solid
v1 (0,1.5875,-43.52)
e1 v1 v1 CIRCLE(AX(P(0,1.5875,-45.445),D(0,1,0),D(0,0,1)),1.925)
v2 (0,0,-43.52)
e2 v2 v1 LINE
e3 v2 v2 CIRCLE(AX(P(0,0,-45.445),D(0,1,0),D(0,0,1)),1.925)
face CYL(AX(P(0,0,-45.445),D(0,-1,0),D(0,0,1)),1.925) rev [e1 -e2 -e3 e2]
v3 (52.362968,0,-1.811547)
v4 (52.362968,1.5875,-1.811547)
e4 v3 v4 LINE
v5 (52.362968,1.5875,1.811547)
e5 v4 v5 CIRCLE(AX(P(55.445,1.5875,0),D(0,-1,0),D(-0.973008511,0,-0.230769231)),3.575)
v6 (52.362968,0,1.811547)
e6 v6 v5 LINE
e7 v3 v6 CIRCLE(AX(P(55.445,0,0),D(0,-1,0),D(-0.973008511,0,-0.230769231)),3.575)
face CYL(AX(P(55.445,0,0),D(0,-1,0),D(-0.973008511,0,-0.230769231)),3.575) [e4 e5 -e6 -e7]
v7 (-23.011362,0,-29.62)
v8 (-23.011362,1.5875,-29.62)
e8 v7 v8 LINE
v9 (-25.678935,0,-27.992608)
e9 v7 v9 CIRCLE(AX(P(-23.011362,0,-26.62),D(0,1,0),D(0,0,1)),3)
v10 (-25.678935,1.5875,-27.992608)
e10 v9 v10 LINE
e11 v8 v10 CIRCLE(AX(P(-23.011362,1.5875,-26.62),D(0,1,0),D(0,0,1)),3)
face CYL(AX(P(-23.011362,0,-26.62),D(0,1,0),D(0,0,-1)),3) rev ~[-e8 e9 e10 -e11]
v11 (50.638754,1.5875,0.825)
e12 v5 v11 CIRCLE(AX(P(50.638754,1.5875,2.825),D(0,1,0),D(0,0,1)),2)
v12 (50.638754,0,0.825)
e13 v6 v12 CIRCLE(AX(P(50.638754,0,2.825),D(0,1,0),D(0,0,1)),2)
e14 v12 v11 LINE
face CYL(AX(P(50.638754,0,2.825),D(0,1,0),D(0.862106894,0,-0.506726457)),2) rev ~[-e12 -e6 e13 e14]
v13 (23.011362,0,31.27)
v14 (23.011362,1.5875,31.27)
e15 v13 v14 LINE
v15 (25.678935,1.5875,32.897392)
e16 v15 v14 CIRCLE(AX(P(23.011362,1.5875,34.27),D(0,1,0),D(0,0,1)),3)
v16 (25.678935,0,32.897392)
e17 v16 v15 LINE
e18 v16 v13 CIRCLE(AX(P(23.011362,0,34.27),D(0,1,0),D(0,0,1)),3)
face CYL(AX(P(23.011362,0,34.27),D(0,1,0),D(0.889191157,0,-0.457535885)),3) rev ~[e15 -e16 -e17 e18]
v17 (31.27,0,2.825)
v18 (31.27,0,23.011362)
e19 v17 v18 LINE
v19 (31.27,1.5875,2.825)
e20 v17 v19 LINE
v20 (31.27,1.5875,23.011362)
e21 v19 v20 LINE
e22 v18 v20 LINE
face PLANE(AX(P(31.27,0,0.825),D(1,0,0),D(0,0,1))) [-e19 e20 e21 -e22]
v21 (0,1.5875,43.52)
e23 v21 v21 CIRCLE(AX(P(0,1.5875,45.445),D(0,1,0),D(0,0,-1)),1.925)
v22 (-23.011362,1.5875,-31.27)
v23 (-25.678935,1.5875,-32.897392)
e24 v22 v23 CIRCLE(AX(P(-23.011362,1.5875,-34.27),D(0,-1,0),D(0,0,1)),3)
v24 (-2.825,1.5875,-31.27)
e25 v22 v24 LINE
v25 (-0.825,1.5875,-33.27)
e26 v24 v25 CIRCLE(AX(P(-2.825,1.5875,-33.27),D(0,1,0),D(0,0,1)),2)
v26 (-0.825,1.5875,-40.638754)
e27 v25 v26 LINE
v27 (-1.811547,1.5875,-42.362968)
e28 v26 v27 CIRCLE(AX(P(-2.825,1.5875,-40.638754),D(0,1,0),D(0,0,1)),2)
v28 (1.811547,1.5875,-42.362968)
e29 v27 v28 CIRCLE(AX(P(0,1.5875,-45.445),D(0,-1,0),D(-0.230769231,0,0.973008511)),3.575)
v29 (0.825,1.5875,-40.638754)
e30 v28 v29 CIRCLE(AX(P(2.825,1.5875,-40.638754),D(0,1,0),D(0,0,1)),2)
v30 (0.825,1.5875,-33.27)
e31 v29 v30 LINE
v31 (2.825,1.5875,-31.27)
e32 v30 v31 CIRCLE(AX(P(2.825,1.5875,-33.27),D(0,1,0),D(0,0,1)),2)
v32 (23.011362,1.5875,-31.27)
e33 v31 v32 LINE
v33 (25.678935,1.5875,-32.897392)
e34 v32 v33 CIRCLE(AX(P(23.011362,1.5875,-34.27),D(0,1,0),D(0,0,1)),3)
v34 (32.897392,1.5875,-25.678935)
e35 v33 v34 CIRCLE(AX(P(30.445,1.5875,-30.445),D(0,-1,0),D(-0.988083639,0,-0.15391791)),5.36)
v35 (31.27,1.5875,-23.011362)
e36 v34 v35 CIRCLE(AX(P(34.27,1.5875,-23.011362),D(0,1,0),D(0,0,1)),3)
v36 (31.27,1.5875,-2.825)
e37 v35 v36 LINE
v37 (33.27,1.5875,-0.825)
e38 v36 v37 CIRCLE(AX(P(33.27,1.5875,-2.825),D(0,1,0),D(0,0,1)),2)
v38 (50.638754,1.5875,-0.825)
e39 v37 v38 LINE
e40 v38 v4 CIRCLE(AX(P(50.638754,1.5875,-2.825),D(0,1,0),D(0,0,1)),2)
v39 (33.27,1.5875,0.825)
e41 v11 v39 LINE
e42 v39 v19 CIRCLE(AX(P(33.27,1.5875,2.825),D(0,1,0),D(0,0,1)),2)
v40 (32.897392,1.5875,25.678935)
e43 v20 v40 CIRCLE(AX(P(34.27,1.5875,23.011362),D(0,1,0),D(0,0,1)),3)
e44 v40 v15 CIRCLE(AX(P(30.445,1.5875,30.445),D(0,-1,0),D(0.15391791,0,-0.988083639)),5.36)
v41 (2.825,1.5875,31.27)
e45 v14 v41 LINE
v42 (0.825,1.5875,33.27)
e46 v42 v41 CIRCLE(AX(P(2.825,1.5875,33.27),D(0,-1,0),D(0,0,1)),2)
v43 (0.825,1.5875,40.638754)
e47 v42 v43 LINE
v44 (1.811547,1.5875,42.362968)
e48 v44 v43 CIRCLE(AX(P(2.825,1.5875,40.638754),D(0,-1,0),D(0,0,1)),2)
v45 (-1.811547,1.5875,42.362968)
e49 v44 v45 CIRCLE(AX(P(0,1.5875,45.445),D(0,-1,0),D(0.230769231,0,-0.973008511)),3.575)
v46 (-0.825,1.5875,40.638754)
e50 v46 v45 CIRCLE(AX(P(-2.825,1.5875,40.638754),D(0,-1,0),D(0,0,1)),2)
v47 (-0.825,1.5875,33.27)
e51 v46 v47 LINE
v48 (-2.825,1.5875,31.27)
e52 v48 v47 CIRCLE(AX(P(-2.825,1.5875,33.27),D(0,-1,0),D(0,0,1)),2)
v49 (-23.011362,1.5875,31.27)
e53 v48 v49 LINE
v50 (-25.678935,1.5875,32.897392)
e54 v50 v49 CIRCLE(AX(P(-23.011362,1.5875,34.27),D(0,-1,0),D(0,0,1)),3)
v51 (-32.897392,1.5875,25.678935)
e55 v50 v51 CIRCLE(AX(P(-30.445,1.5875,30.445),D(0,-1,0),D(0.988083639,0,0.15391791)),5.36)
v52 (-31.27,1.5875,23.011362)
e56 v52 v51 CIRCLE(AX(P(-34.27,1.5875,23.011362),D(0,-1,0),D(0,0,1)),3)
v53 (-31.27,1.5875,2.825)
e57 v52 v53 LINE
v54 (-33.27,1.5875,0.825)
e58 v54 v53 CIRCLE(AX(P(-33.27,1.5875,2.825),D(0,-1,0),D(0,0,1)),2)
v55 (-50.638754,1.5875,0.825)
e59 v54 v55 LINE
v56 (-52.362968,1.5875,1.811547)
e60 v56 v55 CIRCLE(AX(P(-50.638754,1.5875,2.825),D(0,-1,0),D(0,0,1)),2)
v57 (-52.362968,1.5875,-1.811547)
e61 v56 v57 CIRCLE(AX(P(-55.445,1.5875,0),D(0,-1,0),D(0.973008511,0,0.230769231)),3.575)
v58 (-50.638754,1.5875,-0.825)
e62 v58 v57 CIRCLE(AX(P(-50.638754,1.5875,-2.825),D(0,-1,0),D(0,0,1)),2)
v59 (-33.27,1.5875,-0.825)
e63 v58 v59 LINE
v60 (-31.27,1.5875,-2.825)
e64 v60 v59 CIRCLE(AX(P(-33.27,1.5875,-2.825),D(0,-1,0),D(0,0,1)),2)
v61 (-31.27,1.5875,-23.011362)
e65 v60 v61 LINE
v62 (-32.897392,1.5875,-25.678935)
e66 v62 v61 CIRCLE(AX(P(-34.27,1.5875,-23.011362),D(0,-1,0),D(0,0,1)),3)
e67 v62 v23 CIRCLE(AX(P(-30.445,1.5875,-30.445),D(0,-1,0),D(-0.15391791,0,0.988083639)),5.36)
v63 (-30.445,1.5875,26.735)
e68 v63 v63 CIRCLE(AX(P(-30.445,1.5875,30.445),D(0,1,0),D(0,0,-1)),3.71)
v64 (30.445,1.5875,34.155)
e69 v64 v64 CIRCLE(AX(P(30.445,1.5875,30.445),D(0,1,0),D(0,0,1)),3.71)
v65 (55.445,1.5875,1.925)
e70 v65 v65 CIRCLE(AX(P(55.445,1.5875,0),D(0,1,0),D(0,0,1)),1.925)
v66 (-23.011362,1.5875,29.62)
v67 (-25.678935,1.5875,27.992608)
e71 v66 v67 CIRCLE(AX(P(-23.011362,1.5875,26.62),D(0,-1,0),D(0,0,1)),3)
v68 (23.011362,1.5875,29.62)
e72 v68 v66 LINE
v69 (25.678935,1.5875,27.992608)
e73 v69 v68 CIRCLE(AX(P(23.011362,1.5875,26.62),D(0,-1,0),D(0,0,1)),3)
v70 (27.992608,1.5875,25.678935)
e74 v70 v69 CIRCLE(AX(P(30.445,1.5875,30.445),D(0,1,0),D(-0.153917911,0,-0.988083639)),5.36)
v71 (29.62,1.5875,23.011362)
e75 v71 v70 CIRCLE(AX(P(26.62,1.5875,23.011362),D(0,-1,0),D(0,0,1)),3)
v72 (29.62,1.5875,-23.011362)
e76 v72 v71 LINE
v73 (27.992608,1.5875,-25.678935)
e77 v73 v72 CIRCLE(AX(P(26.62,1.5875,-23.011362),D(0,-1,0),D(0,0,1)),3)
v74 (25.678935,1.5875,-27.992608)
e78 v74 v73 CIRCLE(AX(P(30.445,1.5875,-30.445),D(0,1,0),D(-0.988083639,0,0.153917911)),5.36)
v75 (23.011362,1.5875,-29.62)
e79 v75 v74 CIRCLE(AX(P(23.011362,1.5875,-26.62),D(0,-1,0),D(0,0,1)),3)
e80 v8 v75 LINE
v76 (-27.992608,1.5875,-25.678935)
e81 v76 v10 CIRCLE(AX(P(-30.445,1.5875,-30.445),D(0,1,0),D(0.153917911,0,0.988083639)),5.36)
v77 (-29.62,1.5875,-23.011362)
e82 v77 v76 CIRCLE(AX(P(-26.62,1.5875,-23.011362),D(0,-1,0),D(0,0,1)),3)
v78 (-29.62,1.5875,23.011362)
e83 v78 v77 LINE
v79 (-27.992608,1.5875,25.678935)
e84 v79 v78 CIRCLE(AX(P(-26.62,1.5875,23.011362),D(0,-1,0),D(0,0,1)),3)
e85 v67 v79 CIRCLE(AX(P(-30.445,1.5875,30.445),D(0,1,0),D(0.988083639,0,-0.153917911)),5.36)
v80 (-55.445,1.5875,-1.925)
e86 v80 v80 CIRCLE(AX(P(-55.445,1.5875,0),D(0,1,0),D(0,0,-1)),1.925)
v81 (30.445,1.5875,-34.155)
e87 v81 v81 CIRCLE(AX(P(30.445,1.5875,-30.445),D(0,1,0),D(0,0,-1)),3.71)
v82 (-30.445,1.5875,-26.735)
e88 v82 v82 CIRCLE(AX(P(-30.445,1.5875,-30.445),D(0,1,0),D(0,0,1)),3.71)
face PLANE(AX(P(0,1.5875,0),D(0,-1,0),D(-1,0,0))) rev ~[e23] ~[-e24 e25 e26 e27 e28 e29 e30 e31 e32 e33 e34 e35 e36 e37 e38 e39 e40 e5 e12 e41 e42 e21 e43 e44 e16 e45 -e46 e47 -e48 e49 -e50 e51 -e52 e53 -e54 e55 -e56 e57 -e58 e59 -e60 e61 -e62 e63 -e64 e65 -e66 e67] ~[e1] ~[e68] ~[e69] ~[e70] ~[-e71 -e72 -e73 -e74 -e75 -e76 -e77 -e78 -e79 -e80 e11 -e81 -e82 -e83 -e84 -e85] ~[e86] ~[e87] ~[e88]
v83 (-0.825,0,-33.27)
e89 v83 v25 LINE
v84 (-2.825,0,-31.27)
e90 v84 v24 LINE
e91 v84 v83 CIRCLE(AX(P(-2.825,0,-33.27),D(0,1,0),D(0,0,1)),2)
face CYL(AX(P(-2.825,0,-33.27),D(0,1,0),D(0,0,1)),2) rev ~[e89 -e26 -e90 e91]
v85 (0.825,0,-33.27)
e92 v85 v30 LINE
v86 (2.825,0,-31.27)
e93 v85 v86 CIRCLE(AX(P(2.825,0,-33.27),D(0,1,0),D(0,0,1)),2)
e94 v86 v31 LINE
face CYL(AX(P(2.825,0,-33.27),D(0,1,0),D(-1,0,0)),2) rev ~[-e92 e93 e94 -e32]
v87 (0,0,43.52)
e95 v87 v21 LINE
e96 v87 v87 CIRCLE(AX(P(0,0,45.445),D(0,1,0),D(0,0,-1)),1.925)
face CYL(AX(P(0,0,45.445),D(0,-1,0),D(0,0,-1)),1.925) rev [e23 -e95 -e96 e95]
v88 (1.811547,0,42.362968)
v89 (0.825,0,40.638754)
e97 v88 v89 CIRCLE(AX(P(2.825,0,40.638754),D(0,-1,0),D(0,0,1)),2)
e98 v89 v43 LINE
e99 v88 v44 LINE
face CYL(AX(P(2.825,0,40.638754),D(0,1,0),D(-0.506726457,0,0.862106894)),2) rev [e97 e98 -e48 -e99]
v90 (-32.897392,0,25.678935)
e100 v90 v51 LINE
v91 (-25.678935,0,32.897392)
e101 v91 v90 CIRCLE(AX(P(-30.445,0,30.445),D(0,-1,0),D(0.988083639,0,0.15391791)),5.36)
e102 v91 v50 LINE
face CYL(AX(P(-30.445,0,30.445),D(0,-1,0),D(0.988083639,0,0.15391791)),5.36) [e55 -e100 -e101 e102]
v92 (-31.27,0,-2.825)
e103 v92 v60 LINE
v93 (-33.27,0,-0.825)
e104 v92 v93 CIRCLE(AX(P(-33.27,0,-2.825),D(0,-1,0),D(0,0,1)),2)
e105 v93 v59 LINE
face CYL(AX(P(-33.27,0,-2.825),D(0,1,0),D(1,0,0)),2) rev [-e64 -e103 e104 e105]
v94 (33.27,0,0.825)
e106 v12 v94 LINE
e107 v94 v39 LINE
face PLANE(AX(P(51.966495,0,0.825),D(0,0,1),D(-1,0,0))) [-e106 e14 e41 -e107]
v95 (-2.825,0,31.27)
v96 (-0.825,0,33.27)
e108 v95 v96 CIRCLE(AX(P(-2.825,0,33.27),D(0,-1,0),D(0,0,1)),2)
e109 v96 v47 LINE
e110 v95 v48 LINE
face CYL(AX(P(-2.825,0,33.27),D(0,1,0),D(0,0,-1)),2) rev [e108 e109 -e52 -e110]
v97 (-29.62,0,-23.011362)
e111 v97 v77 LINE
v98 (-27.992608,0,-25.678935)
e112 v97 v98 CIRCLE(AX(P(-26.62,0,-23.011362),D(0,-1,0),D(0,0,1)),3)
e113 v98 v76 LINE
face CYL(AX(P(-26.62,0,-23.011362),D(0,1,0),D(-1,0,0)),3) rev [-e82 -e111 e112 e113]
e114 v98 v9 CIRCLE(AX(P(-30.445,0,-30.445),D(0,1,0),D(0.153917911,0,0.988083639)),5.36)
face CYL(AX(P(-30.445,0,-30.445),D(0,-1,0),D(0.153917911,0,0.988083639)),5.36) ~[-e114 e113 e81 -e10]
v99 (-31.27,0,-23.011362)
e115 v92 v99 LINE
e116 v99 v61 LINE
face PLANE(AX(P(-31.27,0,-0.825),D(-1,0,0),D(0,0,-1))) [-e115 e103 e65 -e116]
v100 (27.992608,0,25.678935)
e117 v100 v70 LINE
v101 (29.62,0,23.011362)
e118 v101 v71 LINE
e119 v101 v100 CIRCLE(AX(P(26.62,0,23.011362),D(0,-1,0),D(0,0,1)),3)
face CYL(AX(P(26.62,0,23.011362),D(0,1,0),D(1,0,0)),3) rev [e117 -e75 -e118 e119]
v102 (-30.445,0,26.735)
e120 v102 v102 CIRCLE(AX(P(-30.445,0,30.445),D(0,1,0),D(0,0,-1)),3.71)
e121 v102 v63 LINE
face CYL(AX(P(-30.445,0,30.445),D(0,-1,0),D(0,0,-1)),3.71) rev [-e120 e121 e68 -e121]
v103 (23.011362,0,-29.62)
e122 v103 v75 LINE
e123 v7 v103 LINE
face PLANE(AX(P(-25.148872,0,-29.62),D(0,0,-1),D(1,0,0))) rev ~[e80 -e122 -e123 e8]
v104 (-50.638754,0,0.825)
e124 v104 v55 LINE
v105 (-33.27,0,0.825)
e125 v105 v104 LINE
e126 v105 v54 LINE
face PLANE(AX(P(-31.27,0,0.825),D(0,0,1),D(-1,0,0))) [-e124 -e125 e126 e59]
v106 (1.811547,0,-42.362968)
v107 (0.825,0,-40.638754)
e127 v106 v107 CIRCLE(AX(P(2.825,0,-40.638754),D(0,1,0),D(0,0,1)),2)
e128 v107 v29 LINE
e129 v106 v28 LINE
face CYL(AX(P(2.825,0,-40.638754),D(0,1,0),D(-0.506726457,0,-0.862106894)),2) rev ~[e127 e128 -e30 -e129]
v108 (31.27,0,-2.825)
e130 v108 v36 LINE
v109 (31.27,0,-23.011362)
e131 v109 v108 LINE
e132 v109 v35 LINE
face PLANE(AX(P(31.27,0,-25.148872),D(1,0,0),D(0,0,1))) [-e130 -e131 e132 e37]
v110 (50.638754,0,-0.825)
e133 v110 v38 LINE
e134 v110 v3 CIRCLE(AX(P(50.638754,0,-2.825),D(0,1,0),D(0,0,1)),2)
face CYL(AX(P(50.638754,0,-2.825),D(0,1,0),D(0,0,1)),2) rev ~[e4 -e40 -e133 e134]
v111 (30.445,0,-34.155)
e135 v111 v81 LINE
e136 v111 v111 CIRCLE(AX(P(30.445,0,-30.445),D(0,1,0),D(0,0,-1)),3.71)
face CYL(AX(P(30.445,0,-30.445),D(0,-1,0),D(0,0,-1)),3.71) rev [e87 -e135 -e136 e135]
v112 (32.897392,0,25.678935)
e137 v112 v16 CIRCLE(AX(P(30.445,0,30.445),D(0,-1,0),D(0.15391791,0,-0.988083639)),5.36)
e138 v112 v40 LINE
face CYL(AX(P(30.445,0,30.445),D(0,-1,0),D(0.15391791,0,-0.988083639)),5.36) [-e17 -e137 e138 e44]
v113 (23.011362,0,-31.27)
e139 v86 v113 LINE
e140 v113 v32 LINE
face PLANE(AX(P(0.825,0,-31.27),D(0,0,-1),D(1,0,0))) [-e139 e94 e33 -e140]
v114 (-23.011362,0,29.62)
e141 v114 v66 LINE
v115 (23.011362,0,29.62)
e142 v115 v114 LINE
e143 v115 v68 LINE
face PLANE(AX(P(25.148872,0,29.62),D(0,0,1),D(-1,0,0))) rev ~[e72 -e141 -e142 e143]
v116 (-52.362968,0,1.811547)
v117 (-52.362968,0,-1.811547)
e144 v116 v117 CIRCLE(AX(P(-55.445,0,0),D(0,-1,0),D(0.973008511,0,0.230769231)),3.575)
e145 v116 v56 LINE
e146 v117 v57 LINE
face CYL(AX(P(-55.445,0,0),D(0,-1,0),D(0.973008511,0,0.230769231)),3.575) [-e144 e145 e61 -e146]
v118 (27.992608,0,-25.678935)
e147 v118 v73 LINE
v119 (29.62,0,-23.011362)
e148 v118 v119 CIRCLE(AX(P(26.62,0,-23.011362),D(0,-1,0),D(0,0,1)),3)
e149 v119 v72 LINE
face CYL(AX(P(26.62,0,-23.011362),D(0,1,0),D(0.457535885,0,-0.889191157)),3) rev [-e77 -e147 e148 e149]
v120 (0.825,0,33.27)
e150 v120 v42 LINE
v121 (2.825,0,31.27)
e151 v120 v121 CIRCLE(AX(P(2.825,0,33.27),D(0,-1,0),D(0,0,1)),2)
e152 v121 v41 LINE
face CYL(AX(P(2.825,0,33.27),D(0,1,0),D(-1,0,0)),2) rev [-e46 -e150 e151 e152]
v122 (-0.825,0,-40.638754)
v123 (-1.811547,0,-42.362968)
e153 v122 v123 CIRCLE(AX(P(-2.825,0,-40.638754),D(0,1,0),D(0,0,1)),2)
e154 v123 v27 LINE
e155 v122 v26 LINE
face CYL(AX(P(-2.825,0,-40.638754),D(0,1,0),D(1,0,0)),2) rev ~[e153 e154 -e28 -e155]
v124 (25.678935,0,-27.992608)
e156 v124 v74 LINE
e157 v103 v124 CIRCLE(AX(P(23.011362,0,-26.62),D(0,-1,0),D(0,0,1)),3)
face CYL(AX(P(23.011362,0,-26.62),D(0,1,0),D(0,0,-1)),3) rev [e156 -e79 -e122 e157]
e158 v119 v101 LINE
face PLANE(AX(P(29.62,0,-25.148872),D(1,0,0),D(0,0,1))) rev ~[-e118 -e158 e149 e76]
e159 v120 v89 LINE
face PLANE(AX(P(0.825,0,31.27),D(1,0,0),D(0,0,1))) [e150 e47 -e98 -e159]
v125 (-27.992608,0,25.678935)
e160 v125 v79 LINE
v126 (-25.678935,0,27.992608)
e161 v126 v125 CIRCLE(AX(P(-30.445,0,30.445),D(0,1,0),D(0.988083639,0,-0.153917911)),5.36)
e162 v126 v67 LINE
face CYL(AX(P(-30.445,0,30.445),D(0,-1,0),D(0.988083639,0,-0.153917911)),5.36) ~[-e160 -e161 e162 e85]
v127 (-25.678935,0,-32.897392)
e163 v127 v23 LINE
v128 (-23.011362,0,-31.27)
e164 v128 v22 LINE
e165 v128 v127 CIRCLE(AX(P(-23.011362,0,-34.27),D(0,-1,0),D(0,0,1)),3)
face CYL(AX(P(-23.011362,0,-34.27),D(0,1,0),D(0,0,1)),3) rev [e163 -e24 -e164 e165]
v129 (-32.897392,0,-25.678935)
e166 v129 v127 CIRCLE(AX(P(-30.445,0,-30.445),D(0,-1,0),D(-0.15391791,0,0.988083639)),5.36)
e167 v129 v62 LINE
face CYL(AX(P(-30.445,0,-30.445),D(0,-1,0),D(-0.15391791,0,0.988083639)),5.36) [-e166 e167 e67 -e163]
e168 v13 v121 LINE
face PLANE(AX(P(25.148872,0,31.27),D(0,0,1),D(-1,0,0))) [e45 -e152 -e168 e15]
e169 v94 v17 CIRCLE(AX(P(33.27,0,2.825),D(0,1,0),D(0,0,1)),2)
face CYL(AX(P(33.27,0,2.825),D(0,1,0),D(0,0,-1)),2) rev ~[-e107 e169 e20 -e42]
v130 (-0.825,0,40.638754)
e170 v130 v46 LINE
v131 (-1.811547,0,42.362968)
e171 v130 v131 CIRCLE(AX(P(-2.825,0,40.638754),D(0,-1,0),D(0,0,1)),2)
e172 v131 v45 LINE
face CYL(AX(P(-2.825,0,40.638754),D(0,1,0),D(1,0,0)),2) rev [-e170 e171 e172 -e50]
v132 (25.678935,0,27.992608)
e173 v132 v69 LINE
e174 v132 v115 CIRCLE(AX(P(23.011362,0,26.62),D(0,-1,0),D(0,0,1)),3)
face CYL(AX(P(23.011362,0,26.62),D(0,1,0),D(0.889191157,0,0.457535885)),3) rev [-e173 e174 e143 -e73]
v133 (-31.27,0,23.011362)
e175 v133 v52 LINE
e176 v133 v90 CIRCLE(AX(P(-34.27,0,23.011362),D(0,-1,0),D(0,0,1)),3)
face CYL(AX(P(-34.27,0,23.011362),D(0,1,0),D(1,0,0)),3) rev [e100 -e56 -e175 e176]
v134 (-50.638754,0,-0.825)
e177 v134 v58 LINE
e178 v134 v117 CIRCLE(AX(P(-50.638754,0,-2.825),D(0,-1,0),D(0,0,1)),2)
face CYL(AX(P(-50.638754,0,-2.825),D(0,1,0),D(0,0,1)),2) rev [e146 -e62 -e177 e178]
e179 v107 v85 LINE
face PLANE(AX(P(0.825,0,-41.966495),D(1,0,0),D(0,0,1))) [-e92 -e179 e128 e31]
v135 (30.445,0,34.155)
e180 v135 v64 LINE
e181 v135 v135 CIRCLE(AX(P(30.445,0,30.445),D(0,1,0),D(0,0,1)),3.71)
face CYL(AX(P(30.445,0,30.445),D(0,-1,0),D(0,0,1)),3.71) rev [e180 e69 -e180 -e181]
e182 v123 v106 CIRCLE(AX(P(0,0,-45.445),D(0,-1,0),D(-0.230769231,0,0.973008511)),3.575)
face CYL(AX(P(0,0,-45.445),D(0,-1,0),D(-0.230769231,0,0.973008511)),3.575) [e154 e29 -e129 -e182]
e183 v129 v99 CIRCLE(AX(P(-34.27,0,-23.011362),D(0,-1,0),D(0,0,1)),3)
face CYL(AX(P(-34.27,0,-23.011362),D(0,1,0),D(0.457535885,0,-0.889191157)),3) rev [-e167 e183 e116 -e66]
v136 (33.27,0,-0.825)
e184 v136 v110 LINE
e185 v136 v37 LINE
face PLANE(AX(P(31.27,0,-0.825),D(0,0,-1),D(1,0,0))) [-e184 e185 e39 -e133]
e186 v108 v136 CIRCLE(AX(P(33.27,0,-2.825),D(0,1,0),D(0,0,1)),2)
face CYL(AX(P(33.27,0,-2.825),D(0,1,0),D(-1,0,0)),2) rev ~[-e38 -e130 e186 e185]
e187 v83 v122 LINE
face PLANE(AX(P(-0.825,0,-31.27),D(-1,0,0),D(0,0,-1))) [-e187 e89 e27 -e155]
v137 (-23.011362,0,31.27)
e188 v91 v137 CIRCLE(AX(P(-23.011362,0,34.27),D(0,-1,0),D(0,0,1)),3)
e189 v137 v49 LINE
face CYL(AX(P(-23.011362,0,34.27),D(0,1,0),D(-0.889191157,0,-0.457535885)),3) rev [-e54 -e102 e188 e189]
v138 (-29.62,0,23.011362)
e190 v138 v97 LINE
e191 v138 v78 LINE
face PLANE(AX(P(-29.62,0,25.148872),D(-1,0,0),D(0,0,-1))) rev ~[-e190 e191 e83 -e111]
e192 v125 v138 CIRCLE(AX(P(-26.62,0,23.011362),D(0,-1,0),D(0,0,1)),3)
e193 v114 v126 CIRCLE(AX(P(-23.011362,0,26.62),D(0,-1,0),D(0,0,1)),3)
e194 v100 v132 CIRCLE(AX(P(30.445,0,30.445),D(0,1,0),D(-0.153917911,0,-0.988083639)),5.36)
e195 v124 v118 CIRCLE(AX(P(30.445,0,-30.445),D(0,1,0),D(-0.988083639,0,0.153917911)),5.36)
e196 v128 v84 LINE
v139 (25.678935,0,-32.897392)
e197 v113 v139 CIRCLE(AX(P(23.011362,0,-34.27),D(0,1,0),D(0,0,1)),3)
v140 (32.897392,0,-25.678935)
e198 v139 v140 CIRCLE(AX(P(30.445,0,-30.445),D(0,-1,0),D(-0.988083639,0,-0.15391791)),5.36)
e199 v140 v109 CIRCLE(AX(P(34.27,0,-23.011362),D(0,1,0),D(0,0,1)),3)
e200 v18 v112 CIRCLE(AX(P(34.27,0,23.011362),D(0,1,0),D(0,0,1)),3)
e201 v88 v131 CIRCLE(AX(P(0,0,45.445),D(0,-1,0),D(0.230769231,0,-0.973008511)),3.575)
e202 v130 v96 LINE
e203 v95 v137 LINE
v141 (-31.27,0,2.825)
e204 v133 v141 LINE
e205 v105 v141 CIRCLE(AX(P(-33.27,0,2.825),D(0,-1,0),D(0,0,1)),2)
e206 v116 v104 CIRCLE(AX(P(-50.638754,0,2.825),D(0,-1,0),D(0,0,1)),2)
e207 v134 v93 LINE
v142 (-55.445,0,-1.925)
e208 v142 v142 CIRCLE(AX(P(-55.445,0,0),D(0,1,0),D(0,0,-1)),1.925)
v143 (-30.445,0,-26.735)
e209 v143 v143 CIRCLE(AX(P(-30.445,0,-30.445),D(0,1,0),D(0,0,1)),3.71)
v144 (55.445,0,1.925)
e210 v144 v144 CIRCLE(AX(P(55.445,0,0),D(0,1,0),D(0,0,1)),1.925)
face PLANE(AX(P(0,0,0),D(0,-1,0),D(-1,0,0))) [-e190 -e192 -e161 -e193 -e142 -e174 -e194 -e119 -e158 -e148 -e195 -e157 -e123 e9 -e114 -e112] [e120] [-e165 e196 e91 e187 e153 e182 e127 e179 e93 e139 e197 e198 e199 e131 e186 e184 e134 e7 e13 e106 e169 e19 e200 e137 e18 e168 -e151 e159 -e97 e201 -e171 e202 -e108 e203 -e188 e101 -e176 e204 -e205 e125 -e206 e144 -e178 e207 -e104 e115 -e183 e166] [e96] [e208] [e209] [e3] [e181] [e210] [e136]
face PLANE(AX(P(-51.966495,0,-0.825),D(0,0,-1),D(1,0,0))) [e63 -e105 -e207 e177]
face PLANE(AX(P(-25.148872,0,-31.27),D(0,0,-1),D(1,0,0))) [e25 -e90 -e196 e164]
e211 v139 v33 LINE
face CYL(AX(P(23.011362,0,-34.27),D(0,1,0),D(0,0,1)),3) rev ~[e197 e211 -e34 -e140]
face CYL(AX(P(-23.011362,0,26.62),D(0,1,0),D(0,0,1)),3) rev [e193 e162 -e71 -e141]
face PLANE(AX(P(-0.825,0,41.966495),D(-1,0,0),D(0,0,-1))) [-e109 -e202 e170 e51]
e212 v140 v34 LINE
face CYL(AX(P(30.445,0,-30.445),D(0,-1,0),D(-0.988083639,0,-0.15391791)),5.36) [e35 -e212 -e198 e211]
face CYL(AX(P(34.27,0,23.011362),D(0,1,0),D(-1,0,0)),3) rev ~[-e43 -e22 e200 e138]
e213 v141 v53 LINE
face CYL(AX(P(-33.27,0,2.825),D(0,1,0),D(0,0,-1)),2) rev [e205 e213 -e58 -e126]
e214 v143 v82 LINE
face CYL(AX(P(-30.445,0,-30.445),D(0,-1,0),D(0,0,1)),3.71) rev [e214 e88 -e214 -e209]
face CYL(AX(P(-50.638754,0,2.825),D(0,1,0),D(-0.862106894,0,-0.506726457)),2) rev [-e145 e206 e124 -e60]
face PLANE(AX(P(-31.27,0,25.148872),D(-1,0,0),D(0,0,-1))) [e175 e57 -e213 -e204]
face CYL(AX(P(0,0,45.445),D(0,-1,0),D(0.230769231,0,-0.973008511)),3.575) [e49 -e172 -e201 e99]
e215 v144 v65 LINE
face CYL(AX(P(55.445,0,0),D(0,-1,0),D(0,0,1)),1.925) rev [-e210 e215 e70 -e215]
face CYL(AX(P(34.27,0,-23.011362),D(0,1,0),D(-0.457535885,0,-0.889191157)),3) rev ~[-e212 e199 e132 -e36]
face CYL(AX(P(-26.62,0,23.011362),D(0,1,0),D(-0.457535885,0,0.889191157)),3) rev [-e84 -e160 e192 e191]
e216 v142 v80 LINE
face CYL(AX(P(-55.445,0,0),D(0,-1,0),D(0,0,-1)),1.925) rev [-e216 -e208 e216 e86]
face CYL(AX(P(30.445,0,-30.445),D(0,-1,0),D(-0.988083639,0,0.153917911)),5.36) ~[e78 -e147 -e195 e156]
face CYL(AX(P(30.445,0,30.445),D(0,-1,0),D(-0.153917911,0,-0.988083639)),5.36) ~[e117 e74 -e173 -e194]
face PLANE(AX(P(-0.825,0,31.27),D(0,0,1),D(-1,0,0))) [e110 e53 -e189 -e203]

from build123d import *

# Parameters (mm, degrees)
SKETCH1_R           = 3.71
SKETCH1_R_2         = 1.925
BOSS_EXTRUDE1_DEPTH = 1.5875
FILLET1_R           = 3
FILLET2_R           = 2
FILLET3_R           = 2


with BuildPart() as part:
    # Sketch1 → Boss-Extrude1 (new body)
    with BuildSketch(Plane(origin=(0, 0, 0), x_dir=(1, 0, 0), z_dir=(0, 1, 0))):
        with BuildLine():
            Line((-25.148871697, 31.27), (-0.825, 31.27))
            Line((-0.825, 31.27), (-0.825, 41.966494574))
            ThreePointArc((-0.825, 41.966494574), (0, 49.02), (0.825, 41.966494574))
            Line((0.825, 41.966494574), (0.825, 31.27))
            Line((0.825, 31.27), (25.148871697, 31.27))
            ThreePointArc((25.148871697, 31.27), (34.235092347, 34.235092347), (31.27, 25.148871697))
            Line((31.27, 25.148871697), (31.27, 0.825))
            Line((31.27, 0.825), (51.966494574, 0.825))
            ThreePointArc((51.966494574, 0.825), (59.02, 0), (51.966494574, -0.825))
            Line((51.966494574, -0.825), (31.27, -0.825))
            Line((31.27, -0.825), (31.27, -25.148871697))
            ThreePointArc((31.27, -25.148871697), (34.235092347, -34.235092347), (25.148871697, -31.27))
            Line((25.148871697, -31.27), (0.825, -31.27))
            Line((0.825, -31.27), (0.825, -41.966494574))
            ThreePointArc((0.825, -41.966494574), (0, -49.02), (-0.825, -41.966494574))
            Line((-0.825, -41.966494574), (-0.825, -31.27))
            Line((-0.825, -31.27), (-25.148871697, -31.27))
            ThreePointArc((-25.148871697, -31.27), (-34.235092347, -34.235092347), (-31.27, -25.148871697))
            Line((-31.27, -25.148871697), (-31.27, -0.825))
            Line((-31.27, -0.825), (-51.966494574, -0.825))
            ThreePointArc((-51.966494574, -0.825), (-59.02, 0), (-51.966494574, 0.825))
            Line((-51.966494574, 0.825), (-31.27, 0.825))
            Line((-31.27, 0.825), (-31.27, 25.148871697))
            ThreePointArc((-31.27, 25.148871697), (-34.235092347, 34.235092347), (-25.148871697, 31.27))
        make_face()
        with Locations(Location((-30.445, 30.445, 0), (0, 0, 270))):
            Circle(SKETCH1_R, mode=Mode.SUBTRACT)
        with Locations(Location((30.445, 30.445, 0), (0, 0, 90))):
            Circle(SKETCH1_R, mode=Mode.SUBTRACT)
        with Locations(Location((30.445, -30.445, 0), (0, 0, 270))):
            Circle(SKETCH1_R, mode=Mode.SUBTRACT)
        with Locations(Location((-30.445, -30.445, 0), (0, 0, 90))):
            Circle(SKETCH1_R, mode=Mode.SUBTRACT)
        with Locations(Location((0, 45.445, 0), (0, 0, 270))):
            Circle(SKETCH1_R_2, mode=Mode.SUBTRACT)
        with Locations(Location((55.445, 0, 0), (0, 0, 270))):
            Circle(SKETCH1_R_2, mode=Mode.SUBTRACT)
        with Locations(Location((0, -45.445, 0), (0, 0, 90))):
            Circle(SKETCH1_R_2, mode=Mode.SUBTRACT)
        with Locations(Location((-55.445, 0, 0), (0, 0, 90))):
            Circle(SKETCH1_R_2, mode=Mode.SUBTRACT)
        with BuildLine():
            Line((-25.148871697, 29.62), (25.148871697, 29.62))
            ThreePointArc((25.148871697, 29.62), (26.654907653, 26.654907653), (29.62, 25.148871697))
            Line((29.62, 25.148871697), (29.62, -25.148871697))
            ThreePointArc((29.62, -25.148871697), (26.654907653, -26.654907653), (25.148871697, -29.62))
            Line((25.148871697, -29.62), (-25.148871697, -29.62))
            ThreePointArc((-25.148871697, -29.62), (-26.654907653, -26.654907653), (-29.62, -25.148871697))
            Line((-29.62, -25.148871697), (-29.62, 25.148871697))
            ThreePointArc((-29.62, 25.148871697), (-26.654907653, 26.654907653), (-25.148871697, 29.62))
        make_face(mode=Mode.SUBTRACT)
    extrude(amount=BOSS_EXTRUDE1_DEPTH)

    # Fillet1
    fillet1_edges = [part.edges().sort_by_distance(p)[0] for p in [
        (25.148871697, 0.79375, -31.27),
        (31.27, 0.79375, -25.148871697),
        (31.27, 0.79375, 25.148871697),
        (25.148871697, 0.79375, 31.27),
        (-25.148871697, 0.79375, 31.27),
        (-31.27, 0.79375, 25.148871697),
        (-31.27, 0.79375, -25.148871697),
        (-25.148871697, 0.79375, -31.27),
        (-25.148871697, 0.79375, -29.62),
        (-29.62, 0.79375, -25.148871697),
        (-29.62, 0.79375, 25.148871697),
        (-25.148871697, 0.79375, 29.62),
        (25.148871697, 0.79375, 29.62),
        (29.62, 0.79375, 25.148871697),
        (29.62, 0.79375, -25.148871697),
        (25.148871697, 0.79375, -29.62),
    ]]
    fillet(fillet1_edges, radius=FILLET1_R)

    # Fillet2
    fillet2_edges = [part.edges().sort_by_distance(p)[0] for p in [
        (0.825, 0.79375, -31.27),
        (31.27, 0.79375, -0.825),
        (31.27, 0.79375, 0.825),
        (0.825, 0.79375, 31.27),
        (-0.825, 0.79375, 31.27),
        (-31.27, 0.79375, 0.825),
        (-31.27, 0.79375, -0.825),
        (-0.825, 0.79375, -31.27),
    ]]
    fillet(fillet2_edges, radius=FILLET2_R)

    # Fillet3
    fillet3_edges = [part.edges().sort_by_distance(p)[0] for p in [
        (0.825, 0.79375, -41.966494574),
        (51.966494574, 0.79375, -0.825),
        (51.966494574, 0.79375, 0.825),
        (0.825, 0.79375, 41.966494574),
        (-0.825, 0.79375, 41.966494574),
        (-51.966494574, 0.79375, 0.825),
        (-51.966494574, 0.79375, -0.825),
        (-0.825, 0.79375, -41.966494574),
    ]]
    fillet(fillet3_edges, radius=FILLET3_R)


solid = part.part
